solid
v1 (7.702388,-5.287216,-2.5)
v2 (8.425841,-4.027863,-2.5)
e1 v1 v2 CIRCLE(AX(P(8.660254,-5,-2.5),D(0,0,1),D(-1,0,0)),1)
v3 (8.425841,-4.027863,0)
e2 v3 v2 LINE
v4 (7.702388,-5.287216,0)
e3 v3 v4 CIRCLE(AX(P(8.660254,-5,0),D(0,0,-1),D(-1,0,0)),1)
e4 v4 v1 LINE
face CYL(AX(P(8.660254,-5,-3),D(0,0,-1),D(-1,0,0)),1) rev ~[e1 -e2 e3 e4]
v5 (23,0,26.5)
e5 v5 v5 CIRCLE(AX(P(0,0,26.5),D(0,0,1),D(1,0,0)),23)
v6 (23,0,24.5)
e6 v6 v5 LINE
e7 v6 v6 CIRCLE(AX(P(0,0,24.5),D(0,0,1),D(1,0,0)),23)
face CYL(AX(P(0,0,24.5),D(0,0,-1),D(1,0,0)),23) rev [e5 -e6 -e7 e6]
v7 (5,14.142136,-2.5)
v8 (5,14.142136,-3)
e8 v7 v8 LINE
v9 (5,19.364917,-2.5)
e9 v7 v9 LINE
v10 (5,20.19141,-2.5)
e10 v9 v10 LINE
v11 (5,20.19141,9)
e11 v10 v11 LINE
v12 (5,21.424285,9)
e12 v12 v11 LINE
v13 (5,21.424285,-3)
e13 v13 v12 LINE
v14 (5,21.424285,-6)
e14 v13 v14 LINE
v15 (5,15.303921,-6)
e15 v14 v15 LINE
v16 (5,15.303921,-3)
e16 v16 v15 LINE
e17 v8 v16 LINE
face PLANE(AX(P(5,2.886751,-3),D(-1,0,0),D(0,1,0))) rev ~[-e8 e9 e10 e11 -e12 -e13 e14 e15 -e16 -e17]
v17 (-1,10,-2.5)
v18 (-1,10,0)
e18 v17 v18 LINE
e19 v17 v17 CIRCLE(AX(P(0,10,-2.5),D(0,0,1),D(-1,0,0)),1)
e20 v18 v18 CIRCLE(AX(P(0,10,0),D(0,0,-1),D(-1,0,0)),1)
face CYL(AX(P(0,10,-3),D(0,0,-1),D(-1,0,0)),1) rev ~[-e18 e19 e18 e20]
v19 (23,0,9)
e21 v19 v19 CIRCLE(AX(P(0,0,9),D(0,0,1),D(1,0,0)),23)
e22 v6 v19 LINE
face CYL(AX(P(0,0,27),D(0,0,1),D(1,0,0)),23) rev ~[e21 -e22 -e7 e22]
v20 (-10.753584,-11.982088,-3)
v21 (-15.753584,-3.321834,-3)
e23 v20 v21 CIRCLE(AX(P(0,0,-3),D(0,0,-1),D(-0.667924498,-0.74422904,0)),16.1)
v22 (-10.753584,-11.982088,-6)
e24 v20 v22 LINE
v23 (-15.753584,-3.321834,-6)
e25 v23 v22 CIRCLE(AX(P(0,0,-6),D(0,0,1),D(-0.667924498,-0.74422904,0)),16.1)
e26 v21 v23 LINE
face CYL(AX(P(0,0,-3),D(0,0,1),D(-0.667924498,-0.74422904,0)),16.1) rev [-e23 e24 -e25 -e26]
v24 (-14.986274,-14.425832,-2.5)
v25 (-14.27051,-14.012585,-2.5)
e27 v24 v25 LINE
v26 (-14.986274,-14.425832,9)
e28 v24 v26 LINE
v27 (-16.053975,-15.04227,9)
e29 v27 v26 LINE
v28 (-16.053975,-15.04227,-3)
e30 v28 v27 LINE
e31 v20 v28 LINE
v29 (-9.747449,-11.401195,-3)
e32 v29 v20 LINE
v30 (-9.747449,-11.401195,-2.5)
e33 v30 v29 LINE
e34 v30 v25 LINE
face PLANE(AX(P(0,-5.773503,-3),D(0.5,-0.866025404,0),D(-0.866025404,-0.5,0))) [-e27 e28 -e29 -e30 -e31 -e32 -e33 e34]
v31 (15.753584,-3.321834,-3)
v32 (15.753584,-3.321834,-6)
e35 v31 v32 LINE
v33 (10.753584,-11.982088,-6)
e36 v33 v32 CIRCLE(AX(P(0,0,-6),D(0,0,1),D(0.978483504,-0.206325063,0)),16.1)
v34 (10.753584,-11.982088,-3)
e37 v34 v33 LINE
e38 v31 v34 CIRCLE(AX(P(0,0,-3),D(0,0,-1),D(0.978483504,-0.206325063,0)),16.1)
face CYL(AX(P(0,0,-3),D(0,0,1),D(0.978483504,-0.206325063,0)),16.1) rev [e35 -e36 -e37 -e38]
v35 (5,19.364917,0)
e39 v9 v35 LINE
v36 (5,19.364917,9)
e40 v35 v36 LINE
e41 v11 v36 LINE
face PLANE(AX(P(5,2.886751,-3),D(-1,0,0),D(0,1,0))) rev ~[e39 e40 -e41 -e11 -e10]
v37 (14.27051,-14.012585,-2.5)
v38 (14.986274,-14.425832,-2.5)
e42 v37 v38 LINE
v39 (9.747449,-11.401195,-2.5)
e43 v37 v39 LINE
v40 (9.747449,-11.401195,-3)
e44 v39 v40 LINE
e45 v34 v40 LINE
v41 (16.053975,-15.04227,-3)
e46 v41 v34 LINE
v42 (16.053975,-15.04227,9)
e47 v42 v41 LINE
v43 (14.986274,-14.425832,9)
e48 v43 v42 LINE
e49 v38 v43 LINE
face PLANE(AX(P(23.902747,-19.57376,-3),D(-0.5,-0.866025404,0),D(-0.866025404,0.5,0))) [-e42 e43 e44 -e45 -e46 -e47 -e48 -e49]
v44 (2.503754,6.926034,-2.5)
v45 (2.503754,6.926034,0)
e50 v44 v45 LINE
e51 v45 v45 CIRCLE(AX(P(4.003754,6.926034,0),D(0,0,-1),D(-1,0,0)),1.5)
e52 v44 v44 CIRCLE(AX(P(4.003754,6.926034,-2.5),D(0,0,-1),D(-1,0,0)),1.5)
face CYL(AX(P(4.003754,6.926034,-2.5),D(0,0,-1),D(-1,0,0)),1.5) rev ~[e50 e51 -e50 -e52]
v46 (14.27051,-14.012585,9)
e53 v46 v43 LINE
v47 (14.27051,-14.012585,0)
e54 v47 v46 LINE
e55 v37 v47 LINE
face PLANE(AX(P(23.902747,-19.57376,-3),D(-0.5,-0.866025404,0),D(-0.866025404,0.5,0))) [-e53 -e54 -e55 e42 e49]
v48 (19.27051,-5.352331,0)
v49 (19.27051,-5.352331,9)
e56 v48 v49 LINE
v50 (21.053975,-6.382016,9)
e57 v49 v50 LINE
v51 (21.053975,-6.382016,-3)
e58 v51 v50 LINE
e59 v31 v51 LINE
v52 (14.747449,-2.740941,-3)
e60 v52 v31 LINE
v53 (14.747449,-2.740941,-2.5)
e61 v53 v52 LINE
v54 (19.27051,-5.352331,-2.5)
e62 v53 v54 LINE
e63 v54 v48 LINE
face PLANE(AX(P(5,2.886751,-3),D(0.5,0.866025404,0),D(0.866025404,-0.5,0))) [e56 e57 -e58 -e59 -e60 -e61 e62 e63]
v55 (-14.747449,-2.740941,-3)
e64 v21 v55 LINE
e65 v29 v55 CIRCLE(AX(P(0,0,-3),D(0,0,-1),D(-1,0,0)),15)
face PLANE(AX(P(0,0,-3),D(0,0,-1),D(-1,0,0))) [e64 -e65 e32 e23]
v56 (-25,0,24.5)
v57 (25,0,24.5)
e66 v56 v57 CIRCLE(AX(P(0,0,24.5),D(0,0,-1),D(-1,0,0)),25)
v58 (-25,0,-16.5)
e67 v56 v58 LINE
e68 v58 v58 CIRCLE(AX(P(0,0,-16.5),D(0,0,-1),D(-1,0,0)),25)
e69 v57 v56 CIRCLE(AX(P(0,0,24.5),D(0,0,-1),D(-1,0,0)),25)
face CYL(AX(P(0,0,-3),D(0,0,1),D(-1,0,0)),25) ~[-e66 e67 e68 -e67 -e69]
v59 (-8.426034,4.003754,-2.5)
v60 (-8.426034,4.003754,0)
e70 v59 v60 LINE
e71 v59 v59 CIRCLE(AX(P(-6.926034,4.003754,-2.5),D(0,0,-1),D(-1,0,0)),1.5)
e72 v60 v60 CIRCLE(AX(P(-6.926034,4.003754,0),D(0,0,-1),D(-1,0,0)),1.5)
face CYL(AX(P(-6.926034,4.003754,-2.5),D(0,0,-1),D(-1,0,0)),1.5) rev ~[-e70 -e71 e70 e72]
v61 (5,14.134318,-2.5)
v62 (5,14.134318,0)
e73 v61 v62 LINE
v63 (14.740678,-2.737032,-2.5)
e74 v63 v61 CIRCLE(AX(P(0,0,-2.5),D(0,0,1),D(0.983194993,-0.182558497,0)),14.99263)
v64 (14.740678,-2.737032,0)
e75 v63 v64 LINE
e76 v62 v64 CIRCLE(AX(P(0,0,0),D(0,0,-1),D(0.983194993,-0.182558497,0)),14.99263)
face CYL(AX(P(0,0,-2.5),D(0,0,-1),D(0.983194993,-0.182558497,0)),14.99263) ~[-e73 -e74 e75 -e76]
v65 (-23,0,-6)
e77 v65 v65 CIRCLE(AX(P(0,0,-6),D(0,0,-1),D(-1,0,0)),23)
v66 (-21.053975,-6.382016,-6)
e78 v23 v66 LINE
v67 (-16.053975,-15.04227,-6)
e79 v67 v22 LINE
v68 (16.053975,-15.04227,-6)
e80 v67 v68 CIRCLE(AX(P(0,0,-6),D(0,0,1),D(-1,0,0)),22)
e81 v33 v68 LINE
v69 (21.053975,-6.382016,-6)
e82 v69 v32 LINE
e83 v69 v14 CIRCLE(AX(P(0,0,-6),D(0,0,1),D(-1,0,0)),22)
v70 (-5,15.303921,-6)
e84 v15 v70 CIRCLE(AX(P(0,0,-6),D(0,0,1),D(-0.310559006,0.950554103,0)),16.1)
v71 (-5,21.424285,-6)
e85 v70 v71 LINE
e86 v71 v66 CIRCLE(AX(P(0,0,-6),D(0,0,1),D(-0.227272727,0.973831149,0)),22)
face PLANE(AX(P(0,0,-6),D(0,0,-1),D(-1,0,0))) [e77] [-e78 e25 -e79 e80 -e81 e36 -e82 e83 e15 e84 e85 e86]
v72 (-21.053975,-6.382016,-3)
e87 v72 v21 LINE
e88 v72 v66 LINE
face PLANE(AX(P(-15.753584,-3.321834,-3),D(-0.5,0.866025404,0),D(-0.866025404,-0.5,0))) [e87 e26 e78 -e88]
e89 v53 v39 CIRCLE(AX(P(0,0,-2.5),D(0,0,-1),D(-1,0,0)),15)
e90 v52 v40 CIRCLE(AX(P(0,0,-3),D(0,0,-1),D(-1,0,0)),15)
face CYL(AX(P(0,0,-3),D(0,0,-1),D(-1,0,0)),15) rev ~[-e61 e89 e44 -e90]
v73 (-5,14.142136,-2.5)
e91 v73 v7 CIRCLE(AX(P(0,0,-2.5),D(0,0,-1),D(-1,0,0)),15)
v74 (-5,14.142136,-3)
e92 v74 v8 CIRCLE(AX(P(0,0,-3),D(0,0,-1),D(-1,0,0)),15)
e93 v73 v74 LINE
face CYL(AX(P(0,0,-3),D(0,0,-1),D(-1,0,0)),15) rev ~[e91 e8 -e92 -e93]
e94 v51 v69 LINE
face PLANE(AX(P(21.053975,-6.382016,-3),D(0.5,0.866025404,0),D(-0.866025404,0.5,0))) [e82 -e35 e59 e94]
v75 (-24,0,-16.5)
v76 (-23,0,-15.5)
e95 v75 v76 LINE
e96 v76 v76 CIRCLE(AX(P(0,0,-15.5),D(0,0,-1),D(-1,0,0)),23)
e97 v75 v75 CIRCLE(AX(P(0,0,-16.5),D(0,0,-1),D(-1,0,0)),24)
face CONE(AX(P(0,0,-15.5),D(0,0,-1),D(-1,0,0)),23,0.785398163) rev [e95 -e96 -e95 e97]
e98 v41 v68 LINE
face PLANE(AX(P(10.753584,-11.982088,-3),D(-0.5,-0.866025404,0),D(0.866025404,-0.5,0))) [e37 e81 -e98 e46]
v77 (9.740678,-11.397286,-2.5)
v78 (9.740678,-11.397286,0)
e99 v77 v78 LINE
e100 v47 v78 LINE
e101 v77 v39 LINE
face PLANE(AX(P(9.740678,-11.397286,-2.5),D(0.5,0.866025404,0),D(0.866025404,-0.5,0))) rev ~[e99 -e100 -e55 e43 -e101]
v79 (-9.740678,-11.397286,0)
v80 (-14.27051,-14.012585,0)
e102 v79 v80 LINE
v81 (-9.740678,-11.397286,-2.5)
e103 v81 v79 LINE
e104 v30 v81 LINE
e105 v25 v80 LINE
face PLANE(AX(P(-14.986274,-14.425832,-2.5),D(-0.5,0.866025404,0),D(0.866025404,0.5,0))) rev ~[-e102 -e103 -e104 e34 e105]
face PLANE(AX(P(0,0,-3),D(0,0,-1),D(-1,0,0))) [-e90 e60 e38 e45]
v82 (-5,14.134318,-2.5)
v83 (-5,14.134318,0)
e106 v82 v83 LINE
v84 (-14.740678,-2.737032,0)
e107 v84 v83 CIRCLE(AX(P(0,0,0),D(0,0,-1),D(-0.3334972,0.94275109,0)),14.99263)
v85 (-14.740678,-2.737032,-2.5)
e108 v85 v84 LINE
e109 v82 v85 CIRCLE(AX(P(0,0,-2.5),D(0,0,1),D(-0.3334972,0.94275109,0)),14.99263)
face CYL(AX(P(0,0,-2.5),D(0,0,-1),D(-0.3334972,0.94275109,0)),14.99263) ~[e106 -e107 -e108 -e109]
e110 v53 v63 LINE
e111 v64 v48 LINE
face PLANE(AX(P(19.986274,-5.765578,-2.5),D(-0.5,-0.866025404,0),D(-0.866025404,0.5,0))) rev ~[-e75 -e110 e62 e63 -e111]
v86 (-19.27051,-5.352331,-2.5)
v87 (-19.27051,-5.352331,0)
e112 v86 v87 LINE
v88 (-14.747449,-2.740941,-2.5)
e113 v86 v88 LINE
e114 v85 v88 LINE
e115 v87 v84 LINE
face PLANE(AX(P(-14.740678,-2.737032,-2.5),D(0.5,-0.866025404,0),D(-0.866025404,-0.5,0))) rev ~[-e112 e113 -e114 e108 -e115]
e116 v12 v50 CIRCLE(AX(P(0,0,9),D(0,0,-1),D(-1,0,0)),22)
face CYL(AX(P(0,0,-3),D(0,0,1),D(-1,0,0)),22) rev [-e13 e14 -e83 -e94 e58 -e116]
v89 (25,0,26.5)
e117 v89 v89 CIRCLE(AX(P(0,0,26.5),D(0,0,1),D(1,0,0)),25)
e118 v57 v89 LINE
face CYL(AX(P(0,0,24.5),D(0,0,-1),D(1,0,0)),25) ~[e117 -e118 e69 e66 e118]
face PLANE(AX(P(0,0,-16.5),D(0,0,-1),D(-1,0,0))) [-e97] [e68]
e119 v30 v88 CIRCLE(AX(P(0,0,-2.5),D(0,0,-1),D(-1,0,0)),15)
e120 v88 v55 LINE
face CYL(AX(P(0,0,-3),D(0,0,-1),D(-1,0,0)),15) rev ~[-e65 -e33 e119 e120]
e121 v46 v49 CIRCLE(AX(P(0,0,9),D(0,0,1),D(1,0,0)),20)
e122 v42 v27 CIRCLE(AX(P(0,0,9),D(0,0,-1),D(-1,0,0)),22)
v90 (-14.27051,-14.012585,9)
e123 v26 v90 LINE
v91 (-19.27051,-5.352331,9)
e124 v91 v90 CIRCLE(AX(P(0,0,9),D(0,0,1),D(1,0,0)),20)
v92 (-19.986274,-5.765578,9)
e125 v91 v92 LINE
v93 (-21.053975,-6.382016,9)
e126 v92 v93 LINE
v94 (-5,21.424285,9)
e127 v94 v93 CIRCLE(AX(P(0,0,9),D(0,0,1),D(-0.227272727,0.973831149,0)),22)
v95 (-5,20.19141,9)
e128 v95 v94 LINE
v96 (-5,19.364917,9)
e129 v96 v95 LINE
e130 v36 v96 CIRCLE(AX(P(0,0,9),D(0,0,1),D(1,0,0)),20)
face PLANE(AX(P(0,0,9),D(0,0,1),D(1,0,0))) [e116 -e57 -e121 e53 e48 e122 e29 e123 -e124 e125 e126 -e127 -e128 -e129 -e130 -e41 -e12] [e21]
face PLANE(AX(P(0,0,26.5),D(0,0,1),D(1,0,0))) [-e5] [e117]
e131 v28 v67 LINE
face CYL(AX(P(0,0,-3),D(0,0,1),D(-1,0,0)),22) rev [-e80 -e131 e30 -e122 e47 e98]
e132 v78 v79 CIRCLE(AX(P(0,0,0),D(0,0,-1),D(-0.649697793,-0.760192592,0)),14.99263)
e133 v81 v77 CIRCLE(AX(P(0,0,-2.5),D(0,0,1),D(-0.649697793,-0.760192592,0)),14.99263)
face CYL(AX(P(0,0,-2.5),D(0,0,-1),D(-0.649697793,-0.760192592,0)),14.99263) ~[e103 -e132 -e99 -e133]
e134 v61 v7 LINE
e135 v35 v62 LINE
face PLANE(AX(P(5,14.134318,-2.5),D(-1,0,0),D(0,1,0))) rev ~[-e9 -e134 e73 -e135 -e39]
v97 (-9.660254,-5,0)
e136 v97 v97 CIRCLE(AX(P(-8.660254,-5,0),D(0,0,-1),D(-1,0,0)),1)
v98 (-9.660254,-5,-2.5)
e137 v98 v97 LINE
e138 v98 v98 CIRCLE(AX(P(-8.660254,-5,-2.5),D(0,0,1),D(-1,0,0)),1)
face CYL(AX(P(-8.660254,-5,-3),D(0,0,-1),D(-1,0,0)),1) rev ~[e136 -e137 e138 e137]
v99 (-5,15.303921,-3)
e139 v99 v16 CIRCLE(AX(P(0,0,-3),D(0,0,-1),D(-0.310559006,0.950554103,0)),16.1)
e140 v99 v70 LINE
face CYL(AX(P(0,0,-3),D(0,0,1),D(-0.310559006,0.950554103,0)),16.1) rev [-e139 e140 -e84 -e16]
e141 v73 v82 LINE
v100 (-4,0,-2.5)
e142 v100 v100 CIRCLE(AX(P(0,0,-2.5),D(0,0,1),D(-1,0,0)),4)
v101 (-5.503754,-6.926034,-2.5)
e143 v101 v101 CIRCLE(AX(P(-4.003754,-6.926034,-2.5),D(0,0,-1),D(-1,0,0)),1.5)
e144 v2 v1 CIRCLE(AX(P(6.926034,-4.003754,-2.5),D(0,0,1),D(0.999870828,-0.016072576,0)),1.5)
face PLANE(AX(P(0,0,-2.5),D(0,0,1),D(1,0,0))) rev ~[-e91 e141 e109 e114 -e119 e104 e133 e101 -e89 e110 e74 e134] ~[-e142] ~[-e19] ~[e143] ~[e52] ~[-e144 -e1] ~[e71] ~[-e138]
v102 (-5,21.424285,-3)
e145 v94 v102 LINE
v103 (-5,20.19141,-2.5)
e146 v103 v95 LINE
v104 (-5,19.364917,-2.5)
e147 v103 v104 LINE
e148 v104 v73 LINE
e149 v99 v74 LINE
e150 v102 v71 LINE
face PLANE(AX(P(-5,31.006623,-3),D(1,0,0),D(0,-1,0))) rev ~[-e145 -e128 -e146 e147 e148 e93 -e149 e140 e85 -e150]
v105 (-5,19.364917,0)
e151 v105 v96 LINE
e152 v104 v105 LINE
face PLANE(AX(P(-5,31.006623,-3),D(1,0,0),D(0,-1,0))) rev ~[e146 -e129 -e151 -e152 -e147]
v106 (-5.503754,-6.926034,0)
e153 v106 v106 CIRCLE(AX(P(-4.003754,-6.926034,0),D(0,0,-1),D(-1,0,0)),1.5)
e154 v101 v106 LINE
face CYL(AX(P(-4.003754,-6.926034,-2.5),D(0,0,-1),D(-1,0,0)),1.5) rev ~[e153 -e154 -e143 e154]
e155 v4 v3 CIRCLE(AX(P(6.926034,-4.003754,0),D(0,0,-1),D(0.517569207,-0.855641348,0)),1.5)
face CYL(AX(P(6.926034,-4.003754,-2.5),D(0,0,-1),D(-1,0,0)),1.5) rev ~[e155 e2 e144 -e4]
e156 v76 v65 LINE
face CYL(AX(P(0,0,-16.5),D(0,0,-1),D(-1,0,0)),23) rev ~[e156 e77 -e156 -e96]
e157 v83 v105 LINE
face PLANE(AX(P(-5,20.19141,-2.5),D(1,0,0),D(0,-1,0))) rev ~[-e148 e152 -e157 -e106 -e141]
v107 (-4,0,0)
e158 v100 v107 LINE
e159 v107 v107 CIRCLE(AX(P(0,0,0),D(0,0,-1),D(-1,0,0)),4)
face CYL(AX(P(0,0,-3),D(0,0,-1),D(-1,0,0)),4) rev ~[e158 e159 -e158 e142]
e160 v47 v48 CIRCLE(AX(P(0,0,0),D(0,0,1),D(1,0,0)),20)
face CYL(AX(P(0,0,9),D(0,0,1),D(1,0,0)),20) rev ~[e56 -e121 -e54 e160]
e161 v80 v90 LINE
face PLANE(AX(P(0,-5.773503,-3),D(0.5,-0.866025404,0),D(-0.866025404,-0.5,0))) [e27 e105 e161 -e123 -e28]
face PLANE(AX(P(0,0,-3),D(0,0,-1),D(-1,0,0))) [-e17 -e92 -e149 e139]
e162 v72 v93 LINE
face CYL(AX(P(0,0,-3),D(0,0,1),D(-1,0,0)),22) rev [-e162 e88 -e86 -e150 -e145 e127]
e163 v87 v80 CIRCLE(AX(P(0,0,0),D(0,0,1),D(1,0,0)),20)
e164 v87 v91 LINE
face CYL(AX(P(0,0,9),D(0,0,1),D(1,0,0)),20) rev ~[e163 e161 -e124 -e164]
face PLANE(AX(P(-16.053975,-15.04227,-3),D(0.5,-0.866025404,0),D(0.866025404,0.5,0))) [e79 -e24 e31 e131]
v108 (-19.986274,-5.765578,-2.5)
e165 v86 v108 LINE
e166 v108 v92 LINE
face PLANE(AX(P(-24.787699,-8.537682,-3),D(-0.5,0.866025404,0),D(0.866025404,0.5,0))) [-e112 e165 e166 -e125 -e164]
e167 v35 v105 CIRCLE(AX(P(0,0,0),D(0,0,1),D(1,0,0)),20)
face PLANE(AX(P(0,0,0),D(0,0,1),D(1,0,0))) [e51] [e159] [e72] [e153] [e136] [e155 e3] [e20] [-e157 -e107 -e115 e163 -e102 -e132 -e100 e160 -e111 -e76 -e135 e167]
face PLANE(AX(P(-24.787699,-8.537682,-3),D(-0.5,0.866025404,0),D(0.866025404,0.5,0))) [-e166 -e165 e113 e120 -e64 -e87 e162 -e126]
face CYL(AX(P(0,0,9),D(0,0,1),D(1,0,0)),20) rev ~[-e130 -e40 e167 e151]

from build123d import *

# Parameters (mm, degrees)
SKETCH_1_R           = 22
SKETCH_1_R_2         = 17
EXTRUDE_1_DEPTH      = 9
SKETCH_2_R           = 22
EXTRUDE_2_DEPTH      = 3
SKETCH_3_R           = 1
CUT_EXTRUDE_1_DEPTH  = 3
CUT_EXTRUDE_2_DEPTH  = 25
SKETCH_5_R           = 4
CUT_EXTRUDE_3_DEPTH  = 10
FILLET_1_R           = 10
FILLET_2_R           = 10
SKETCH_7_R           = 25
SKETCH_7_R_2         = 22
EXTRUDE_3_DEPTH      = 30
EXTRUDE_4_DEPTH      = 4
SKETCH_9_R           = 38.67245247
CUT_EXTRUDE_4_DEPTH  = 1
SKETCH_10_R          = 25
SKETCH_10_R_2        = 22
EXTRUDE_5_DEPTH      = 13.5
SKETCH_11_R          = 23
CUT_EXTRUDE_5_DEPTH  = 10.5
CHAMFER_2_SIZE       = 1
SKETCH_12_R          = 23
CUT_EXTRUDE_6_DEPTH  = 18
SKETCH_13_R          = 39.83087954
CUT_EXTRUDE_7_DEPTH  = 2.5
SKETCH_14_R          = 15
CUT_EXTRUDE_8_DEPTH  = 0.5
SKETCH_15_R          = 25
SKETCH_15_R_2        = 23
EXTRUDE_6_DEPTH      = 2
SKETCH_16_R          = 20
CUT_EXTRUDE_9_DEPTH  = 9
SKETCH_17_R          = 20
SKETCH_17_R_2        = 1
SKETCH_17_R_3        = 4
EXTRUDE_7_DEPTH      = 2.5
SKETCH_18_R          = 1.5
CUT_EXTRUDE_10_DEPTH = 21.5
CUT_EXTRUDE_11_DEPTH = 21.5


with BuildPart() as part:
    # 草图1 → 凸台-拉伸1 (new body)
    with BuildSketch(Plane.XY):
        Circle(SKETCH_1_R)
        Circle(SKETCH_1_R_2, mode=Mode.SUBTRACT)
    extrude(amount=EXTRUDE_1_DEPTH)

    # 草图2 → 凸台-拉伸2 (add)
    with BuildSketch(Plane(origin=(0, 0, 0), x_dir=(-1, 0, 0), z_dir=(0, 0, -1))):
        Circle(SKETCH_2_R)
    extrude(amount=EXTRUDE_2_DEPTH)

    # 草图3 → 切除-拉伸1 (cut)
    with BuildSketch(Plane(origin=(0, 0, -3), x_dir=(-1, 0, 0), z_dir=(0, 0, -1))):
        with Locations((0, 10)):
            Circle(SKETCH_3_R)
        with Locations((8.660254038, -5)):
            Circle(SKETCH_3_R)
        with Locations((-8.660254038, -5)):
            Circle(SKETCH_3_R)
    extrude(amount=-CUT_EXTRUDE_1_DEPTH, mode=Mode.SUBTRACT)

    # 草图4 → 切除-拉伸2 (cut)
    with BuildSketch(Plane(origin=(0, 0, -3), x_dir=(-1, 0, 0), z_dir=(0, 0, -1))):
        Polygon((24.787699458, -8.537682263), (5, 2.886751346), (5, 15), (5, 31.006622637), (28.596284234, 19.54376122), align=None)
        Polygon((-6.160254038, -9.330127019), (0, -5.773502692), (19.787699458, -17.197936301), (-4.03507969, -32.43608202), (-23.902747272, -19.573760264), align=None)
        Polygon((-5, 10), (-5, 2.886751346), (-28.902747272, -10.913506226), (-27.638085306, 27.170625695), (-5, 31.006622637), align=None)
    extrude(amount=-CUT_EXTRUDE_2_DEPTH, mode=Mode.SUBTRACT)

    # 草图5 → 切除-拉伸3 (cut)
    with BuildSketch(Plane(origin=(0, 0, -3), x_dir=(-1, 0, 0), z_dir=(0, 0, -1))):
        Circle(SKETCH_5_R)
    extrude(amount=-CUT_EXTRUDE_3_DEPTH, mode=Mode.SUBTRACT)

    # 圆角1
    fillet_1_edges = [part.edges().sort_by_distance(p)[0] for p in [
        (-5, 2.886751346, -1.5),
    ]]
    fillet(fillet_1_edges, radius=FILLET_1_R)

    # 圆角2
    fillet_2_edges = [part.edges().sort_by_distance(p)[0] for p in [
        (5, 2.886751346, -1.5),
        (0, -5.773502692, -1.5),
    ]]
    fillet(fillet_2_edges, radius=FILLET_2_R)

    # 草图7 → 凸台-拉伸3 (add)
    with BuildSketch(Plane(origin=(0, 0, -3), x_dir=(-1, 0, 0), z_dir=(0, 0, -1))):
        Circle(SKETCH_7_R)
        Circle(SKETCH_7_R_2, mode=Mode.SUBTRACT)
    extrude(amount=-EXTRUDE_3_DEPTH)

    # 草图8 → 凸台-拉伸4 (add)
    with BuildSketch(Plane(origin=(0, 0, -3), x_dir=(-1, 0, 0), z_dir=(0, 0, -1))):
        with BuildLine():
            Line((-21.053975315, -6.382015624), (-15.753584421, -3.321833514))
            ThreePointArc((-15.753584421, -3.321833514), (-13.943009001, -8.05), (-10.753584421, -11.982087552))
            Line((-10.753584421, -11.982087552), (-16.053975315, -15.042269662))
            ThreePointArc((-16.053975315, -15.042269662), (-19.052558883, -11), (-21.053975315, -6.382015624))
        make_face()
        with BuildLine():
            Line((16.053975315, -15.042269662), (10.753584421, -11.982087552))
            ThreePointArc((10.753584421, -11.982087552), (13.943009001, -8.05), (15.753584421, -3.321833514))
            Line((15.753584421, -3.321833514), (21.053975315, -6.382015624))
            ThreePointArc((21.053975315, -6.382015624), (19.052558883, -11), (16.053975315, -15.042269662))
        make_face()
        with BuildLine():
            Line((5, 21.424285286), (5, 15.303921066))
            ThreePointArc((5, 15.303921066), (0, 16.1), (-5, 15.303921066))
            Line((-5, 15.303921066), (-5, 21.424285286))
            ThreePointArc((-5, 21.424285286), (0, 22), (5, 21.424285286))
        make_face()
    extrude(amount=EXTRUDE_4_DEPTH)

    # 草图9 → 切除-拉伸4 (cut)
    with BuildSketch(Plane(origin=(0, 0, -7), x_dir=(-1, 0, 0), z_dir=(0, 0, -1))):
        Circle(SKETCH_9_R)
    extrude(amount=-CUT_EXTRUDE_4_DEPTH, mode=Mode.SUBTRACT)

    # 草图10 → 凸台-拉伸5 (add)
    with BuildSketch(Plane(origin=(0, 0, -3), x_dir=(-1, 0, 0), z_dir=(0, 0, -1))):
        Circle(SKETCH_10_R)
        Circle(SKETCH_10_R_2, mode=Mode.SUBTRACT)
    extrude(amount=EXTRUDE_5_DEPTH)

    # 草图11 → 切除-拉伸5 (cut)
    with BuildSketch(Plane(origin=(0, 0, -16.5), x_dir=(-1, 0, 0), z_dir=(0, 0, -1))):
        Circle(SKETCH_11_R)
    extrude(amount=-CUT_EXTRUDE_5_DEPTH, mode=Mode.SUBTRACT)

    # 倒角2
    chamfer_2_edges = [part.edges().sort_by_distance(p)[0] for p in [
        (23, 0, -16.5),
    ]]
    chamfer(chamfer_2_edges, length=CHAMFER_2_SIZE)

    # 草图12 → 切除-拉伸6 (cut)
    with BuildSketch(Plane.XY.offset(27)):
        Circle(SKETCH_12_R)
    extrude(amount=-CUT_EXTRUDE_6_DEPTH, mode=Mode.SUBTRACT)

    # 草图13 → 切除-拉伸7 (cut)
    with BuildSketch(Plane.XY.offset(27)):
        Circle(SKETCH_13_R)
    extrude(amount=-CUT_EXTRUDE_7_DEPTH, mode=Mode.SUBTRACT)

    # 草图14 → 切除-拉伸8 (cut)
    with BuildSketch(Plane(origin=(0, 0, -3), x_dir=(-1, 0, 0), z_dir=(0, 0, -1))):
        Circle(SKETCH_14_R)
    extrude(amount=-CUT_EXTRUDE_8_DEPTH, mode=Mode.SUBTRACT)

    # 草图15 → 凸台-拉伸6 (add)
    with BuildSketch(Plane.XY.offset(24.5)):
        Circle(SKETCH_15_R)
        Circle(SKETCH_15_R_2, mode=Mode.SUBTRACT)
    extrude(amount=EXTRUDE_6_DEPTH)

    # 草图16 → 切除-拉伸9 (cut)
    with BuildSketch(Plane.XY.offset(9)):
        Circle(SKETCH_16_R)
    extrude(amount=-CUT_EXTRUDE_9_DEPTH, mode=Mode.SUBTRACT)

    # 草图17 → 凸台-拉伸7 (add)
    with BuildSketch(Plane.XY):
        Circle(SKETCH_17_R)
        with Locations((8.660254038, -5)):
            Circle(SKETCH_17_R_2, mode=Mode.SUBTRACT)
        with Locations((-8.660254038, -5)):
            Circle(SKETCH_17_R_2, mode=Mode.SUBTRACT)
        with Locations((0, 10)):
            Circle(SKETCH_17_R_2, mode=Mode.SUBTRACT)
        Circle(SKETCH_17_R_3, mode=Mode.SUBTRACT)
    extrude(amount=-EXTRUDE_7_DEPTH)

    # 草图18 → 切除-拉伸10 (cut)
    with BuildSketch(Plane(origin=(0, 0, -2.5), x_dir=(-1, 0, 0), z_dir=(0, 0, -1))):
        with Locations((-6.92603443, -4.003754122)):
            Circle(SKETCH_18_R)
        with Locations((-4.003754122, 6.92603443)):
            Circle(SKETCH_18_R)
        with Locations((6.92603443, 4.003754122)):
            Circle(SKETCH_18_R)
        with Locations((4.003754122, -6.92603443)):
            Circle(SKETCH_18_R)
    extrude(amount=-CUT_EXTRUDE_10_DEPTH, mode=Mode.SUBTRACT)

    # 草图19 → 切除-拉伸11 (cut)
    with BuildSketch(Plane(origin=(0, 0, -2.5), x_dir=(-1, 0, 0), z_dir=(0, 0, -1))):
        with BuildLine():
            Line((-19.986274047, -5.765578009), (-14.740678373, -2.737031935))
            ThreePointArc((-14.740678373, -2.737031935), (-12.983998114, 7.496314806), (-5, 14.134317907))
            Line((-5, 14.134317907), (-5, 20.191410056))
            ThreePointArc((-5, 20.191410056), (-18.014432548, 10.400637481), (-19.986274047, -5.765578009))
        make_face()
        with BuildLine():
            Line((5, 20.191410056), (5, 14.134317907))
            ThreePointArc((5, 14.134317907), (12.983998114, 7.496314806), (14.740678373, -2.737031935))
            Line((14.740678373, -2.737031935), (19.986274047, -5.765578009))
            ThreePointArc((19.986274047, -5.765578009), (18.014432548, 10.400637481), (5, 20.191410056))
        make_face()
        with BuildLine():
            Line((14.986274047, -14.425832047), (9.740678373, -11.397285972))
            ThreePointArc((9.740678373, -11.397285972), (0, -14.992629613), (-9.740678373, -11.397285972))
            Line((-9.740678373, -11.397285972), (-14.986274047, -14.425832047))
            ThreePointArc((-14.986274047, -14.425832047), (0, -20.801274962), (14.986274047, -14.425832047))
        make_face()
    extrude(amount=-CUT_EXTRUDE_11_DEPTH, mode=Mode.SUBTRACT)


solid = part.part
